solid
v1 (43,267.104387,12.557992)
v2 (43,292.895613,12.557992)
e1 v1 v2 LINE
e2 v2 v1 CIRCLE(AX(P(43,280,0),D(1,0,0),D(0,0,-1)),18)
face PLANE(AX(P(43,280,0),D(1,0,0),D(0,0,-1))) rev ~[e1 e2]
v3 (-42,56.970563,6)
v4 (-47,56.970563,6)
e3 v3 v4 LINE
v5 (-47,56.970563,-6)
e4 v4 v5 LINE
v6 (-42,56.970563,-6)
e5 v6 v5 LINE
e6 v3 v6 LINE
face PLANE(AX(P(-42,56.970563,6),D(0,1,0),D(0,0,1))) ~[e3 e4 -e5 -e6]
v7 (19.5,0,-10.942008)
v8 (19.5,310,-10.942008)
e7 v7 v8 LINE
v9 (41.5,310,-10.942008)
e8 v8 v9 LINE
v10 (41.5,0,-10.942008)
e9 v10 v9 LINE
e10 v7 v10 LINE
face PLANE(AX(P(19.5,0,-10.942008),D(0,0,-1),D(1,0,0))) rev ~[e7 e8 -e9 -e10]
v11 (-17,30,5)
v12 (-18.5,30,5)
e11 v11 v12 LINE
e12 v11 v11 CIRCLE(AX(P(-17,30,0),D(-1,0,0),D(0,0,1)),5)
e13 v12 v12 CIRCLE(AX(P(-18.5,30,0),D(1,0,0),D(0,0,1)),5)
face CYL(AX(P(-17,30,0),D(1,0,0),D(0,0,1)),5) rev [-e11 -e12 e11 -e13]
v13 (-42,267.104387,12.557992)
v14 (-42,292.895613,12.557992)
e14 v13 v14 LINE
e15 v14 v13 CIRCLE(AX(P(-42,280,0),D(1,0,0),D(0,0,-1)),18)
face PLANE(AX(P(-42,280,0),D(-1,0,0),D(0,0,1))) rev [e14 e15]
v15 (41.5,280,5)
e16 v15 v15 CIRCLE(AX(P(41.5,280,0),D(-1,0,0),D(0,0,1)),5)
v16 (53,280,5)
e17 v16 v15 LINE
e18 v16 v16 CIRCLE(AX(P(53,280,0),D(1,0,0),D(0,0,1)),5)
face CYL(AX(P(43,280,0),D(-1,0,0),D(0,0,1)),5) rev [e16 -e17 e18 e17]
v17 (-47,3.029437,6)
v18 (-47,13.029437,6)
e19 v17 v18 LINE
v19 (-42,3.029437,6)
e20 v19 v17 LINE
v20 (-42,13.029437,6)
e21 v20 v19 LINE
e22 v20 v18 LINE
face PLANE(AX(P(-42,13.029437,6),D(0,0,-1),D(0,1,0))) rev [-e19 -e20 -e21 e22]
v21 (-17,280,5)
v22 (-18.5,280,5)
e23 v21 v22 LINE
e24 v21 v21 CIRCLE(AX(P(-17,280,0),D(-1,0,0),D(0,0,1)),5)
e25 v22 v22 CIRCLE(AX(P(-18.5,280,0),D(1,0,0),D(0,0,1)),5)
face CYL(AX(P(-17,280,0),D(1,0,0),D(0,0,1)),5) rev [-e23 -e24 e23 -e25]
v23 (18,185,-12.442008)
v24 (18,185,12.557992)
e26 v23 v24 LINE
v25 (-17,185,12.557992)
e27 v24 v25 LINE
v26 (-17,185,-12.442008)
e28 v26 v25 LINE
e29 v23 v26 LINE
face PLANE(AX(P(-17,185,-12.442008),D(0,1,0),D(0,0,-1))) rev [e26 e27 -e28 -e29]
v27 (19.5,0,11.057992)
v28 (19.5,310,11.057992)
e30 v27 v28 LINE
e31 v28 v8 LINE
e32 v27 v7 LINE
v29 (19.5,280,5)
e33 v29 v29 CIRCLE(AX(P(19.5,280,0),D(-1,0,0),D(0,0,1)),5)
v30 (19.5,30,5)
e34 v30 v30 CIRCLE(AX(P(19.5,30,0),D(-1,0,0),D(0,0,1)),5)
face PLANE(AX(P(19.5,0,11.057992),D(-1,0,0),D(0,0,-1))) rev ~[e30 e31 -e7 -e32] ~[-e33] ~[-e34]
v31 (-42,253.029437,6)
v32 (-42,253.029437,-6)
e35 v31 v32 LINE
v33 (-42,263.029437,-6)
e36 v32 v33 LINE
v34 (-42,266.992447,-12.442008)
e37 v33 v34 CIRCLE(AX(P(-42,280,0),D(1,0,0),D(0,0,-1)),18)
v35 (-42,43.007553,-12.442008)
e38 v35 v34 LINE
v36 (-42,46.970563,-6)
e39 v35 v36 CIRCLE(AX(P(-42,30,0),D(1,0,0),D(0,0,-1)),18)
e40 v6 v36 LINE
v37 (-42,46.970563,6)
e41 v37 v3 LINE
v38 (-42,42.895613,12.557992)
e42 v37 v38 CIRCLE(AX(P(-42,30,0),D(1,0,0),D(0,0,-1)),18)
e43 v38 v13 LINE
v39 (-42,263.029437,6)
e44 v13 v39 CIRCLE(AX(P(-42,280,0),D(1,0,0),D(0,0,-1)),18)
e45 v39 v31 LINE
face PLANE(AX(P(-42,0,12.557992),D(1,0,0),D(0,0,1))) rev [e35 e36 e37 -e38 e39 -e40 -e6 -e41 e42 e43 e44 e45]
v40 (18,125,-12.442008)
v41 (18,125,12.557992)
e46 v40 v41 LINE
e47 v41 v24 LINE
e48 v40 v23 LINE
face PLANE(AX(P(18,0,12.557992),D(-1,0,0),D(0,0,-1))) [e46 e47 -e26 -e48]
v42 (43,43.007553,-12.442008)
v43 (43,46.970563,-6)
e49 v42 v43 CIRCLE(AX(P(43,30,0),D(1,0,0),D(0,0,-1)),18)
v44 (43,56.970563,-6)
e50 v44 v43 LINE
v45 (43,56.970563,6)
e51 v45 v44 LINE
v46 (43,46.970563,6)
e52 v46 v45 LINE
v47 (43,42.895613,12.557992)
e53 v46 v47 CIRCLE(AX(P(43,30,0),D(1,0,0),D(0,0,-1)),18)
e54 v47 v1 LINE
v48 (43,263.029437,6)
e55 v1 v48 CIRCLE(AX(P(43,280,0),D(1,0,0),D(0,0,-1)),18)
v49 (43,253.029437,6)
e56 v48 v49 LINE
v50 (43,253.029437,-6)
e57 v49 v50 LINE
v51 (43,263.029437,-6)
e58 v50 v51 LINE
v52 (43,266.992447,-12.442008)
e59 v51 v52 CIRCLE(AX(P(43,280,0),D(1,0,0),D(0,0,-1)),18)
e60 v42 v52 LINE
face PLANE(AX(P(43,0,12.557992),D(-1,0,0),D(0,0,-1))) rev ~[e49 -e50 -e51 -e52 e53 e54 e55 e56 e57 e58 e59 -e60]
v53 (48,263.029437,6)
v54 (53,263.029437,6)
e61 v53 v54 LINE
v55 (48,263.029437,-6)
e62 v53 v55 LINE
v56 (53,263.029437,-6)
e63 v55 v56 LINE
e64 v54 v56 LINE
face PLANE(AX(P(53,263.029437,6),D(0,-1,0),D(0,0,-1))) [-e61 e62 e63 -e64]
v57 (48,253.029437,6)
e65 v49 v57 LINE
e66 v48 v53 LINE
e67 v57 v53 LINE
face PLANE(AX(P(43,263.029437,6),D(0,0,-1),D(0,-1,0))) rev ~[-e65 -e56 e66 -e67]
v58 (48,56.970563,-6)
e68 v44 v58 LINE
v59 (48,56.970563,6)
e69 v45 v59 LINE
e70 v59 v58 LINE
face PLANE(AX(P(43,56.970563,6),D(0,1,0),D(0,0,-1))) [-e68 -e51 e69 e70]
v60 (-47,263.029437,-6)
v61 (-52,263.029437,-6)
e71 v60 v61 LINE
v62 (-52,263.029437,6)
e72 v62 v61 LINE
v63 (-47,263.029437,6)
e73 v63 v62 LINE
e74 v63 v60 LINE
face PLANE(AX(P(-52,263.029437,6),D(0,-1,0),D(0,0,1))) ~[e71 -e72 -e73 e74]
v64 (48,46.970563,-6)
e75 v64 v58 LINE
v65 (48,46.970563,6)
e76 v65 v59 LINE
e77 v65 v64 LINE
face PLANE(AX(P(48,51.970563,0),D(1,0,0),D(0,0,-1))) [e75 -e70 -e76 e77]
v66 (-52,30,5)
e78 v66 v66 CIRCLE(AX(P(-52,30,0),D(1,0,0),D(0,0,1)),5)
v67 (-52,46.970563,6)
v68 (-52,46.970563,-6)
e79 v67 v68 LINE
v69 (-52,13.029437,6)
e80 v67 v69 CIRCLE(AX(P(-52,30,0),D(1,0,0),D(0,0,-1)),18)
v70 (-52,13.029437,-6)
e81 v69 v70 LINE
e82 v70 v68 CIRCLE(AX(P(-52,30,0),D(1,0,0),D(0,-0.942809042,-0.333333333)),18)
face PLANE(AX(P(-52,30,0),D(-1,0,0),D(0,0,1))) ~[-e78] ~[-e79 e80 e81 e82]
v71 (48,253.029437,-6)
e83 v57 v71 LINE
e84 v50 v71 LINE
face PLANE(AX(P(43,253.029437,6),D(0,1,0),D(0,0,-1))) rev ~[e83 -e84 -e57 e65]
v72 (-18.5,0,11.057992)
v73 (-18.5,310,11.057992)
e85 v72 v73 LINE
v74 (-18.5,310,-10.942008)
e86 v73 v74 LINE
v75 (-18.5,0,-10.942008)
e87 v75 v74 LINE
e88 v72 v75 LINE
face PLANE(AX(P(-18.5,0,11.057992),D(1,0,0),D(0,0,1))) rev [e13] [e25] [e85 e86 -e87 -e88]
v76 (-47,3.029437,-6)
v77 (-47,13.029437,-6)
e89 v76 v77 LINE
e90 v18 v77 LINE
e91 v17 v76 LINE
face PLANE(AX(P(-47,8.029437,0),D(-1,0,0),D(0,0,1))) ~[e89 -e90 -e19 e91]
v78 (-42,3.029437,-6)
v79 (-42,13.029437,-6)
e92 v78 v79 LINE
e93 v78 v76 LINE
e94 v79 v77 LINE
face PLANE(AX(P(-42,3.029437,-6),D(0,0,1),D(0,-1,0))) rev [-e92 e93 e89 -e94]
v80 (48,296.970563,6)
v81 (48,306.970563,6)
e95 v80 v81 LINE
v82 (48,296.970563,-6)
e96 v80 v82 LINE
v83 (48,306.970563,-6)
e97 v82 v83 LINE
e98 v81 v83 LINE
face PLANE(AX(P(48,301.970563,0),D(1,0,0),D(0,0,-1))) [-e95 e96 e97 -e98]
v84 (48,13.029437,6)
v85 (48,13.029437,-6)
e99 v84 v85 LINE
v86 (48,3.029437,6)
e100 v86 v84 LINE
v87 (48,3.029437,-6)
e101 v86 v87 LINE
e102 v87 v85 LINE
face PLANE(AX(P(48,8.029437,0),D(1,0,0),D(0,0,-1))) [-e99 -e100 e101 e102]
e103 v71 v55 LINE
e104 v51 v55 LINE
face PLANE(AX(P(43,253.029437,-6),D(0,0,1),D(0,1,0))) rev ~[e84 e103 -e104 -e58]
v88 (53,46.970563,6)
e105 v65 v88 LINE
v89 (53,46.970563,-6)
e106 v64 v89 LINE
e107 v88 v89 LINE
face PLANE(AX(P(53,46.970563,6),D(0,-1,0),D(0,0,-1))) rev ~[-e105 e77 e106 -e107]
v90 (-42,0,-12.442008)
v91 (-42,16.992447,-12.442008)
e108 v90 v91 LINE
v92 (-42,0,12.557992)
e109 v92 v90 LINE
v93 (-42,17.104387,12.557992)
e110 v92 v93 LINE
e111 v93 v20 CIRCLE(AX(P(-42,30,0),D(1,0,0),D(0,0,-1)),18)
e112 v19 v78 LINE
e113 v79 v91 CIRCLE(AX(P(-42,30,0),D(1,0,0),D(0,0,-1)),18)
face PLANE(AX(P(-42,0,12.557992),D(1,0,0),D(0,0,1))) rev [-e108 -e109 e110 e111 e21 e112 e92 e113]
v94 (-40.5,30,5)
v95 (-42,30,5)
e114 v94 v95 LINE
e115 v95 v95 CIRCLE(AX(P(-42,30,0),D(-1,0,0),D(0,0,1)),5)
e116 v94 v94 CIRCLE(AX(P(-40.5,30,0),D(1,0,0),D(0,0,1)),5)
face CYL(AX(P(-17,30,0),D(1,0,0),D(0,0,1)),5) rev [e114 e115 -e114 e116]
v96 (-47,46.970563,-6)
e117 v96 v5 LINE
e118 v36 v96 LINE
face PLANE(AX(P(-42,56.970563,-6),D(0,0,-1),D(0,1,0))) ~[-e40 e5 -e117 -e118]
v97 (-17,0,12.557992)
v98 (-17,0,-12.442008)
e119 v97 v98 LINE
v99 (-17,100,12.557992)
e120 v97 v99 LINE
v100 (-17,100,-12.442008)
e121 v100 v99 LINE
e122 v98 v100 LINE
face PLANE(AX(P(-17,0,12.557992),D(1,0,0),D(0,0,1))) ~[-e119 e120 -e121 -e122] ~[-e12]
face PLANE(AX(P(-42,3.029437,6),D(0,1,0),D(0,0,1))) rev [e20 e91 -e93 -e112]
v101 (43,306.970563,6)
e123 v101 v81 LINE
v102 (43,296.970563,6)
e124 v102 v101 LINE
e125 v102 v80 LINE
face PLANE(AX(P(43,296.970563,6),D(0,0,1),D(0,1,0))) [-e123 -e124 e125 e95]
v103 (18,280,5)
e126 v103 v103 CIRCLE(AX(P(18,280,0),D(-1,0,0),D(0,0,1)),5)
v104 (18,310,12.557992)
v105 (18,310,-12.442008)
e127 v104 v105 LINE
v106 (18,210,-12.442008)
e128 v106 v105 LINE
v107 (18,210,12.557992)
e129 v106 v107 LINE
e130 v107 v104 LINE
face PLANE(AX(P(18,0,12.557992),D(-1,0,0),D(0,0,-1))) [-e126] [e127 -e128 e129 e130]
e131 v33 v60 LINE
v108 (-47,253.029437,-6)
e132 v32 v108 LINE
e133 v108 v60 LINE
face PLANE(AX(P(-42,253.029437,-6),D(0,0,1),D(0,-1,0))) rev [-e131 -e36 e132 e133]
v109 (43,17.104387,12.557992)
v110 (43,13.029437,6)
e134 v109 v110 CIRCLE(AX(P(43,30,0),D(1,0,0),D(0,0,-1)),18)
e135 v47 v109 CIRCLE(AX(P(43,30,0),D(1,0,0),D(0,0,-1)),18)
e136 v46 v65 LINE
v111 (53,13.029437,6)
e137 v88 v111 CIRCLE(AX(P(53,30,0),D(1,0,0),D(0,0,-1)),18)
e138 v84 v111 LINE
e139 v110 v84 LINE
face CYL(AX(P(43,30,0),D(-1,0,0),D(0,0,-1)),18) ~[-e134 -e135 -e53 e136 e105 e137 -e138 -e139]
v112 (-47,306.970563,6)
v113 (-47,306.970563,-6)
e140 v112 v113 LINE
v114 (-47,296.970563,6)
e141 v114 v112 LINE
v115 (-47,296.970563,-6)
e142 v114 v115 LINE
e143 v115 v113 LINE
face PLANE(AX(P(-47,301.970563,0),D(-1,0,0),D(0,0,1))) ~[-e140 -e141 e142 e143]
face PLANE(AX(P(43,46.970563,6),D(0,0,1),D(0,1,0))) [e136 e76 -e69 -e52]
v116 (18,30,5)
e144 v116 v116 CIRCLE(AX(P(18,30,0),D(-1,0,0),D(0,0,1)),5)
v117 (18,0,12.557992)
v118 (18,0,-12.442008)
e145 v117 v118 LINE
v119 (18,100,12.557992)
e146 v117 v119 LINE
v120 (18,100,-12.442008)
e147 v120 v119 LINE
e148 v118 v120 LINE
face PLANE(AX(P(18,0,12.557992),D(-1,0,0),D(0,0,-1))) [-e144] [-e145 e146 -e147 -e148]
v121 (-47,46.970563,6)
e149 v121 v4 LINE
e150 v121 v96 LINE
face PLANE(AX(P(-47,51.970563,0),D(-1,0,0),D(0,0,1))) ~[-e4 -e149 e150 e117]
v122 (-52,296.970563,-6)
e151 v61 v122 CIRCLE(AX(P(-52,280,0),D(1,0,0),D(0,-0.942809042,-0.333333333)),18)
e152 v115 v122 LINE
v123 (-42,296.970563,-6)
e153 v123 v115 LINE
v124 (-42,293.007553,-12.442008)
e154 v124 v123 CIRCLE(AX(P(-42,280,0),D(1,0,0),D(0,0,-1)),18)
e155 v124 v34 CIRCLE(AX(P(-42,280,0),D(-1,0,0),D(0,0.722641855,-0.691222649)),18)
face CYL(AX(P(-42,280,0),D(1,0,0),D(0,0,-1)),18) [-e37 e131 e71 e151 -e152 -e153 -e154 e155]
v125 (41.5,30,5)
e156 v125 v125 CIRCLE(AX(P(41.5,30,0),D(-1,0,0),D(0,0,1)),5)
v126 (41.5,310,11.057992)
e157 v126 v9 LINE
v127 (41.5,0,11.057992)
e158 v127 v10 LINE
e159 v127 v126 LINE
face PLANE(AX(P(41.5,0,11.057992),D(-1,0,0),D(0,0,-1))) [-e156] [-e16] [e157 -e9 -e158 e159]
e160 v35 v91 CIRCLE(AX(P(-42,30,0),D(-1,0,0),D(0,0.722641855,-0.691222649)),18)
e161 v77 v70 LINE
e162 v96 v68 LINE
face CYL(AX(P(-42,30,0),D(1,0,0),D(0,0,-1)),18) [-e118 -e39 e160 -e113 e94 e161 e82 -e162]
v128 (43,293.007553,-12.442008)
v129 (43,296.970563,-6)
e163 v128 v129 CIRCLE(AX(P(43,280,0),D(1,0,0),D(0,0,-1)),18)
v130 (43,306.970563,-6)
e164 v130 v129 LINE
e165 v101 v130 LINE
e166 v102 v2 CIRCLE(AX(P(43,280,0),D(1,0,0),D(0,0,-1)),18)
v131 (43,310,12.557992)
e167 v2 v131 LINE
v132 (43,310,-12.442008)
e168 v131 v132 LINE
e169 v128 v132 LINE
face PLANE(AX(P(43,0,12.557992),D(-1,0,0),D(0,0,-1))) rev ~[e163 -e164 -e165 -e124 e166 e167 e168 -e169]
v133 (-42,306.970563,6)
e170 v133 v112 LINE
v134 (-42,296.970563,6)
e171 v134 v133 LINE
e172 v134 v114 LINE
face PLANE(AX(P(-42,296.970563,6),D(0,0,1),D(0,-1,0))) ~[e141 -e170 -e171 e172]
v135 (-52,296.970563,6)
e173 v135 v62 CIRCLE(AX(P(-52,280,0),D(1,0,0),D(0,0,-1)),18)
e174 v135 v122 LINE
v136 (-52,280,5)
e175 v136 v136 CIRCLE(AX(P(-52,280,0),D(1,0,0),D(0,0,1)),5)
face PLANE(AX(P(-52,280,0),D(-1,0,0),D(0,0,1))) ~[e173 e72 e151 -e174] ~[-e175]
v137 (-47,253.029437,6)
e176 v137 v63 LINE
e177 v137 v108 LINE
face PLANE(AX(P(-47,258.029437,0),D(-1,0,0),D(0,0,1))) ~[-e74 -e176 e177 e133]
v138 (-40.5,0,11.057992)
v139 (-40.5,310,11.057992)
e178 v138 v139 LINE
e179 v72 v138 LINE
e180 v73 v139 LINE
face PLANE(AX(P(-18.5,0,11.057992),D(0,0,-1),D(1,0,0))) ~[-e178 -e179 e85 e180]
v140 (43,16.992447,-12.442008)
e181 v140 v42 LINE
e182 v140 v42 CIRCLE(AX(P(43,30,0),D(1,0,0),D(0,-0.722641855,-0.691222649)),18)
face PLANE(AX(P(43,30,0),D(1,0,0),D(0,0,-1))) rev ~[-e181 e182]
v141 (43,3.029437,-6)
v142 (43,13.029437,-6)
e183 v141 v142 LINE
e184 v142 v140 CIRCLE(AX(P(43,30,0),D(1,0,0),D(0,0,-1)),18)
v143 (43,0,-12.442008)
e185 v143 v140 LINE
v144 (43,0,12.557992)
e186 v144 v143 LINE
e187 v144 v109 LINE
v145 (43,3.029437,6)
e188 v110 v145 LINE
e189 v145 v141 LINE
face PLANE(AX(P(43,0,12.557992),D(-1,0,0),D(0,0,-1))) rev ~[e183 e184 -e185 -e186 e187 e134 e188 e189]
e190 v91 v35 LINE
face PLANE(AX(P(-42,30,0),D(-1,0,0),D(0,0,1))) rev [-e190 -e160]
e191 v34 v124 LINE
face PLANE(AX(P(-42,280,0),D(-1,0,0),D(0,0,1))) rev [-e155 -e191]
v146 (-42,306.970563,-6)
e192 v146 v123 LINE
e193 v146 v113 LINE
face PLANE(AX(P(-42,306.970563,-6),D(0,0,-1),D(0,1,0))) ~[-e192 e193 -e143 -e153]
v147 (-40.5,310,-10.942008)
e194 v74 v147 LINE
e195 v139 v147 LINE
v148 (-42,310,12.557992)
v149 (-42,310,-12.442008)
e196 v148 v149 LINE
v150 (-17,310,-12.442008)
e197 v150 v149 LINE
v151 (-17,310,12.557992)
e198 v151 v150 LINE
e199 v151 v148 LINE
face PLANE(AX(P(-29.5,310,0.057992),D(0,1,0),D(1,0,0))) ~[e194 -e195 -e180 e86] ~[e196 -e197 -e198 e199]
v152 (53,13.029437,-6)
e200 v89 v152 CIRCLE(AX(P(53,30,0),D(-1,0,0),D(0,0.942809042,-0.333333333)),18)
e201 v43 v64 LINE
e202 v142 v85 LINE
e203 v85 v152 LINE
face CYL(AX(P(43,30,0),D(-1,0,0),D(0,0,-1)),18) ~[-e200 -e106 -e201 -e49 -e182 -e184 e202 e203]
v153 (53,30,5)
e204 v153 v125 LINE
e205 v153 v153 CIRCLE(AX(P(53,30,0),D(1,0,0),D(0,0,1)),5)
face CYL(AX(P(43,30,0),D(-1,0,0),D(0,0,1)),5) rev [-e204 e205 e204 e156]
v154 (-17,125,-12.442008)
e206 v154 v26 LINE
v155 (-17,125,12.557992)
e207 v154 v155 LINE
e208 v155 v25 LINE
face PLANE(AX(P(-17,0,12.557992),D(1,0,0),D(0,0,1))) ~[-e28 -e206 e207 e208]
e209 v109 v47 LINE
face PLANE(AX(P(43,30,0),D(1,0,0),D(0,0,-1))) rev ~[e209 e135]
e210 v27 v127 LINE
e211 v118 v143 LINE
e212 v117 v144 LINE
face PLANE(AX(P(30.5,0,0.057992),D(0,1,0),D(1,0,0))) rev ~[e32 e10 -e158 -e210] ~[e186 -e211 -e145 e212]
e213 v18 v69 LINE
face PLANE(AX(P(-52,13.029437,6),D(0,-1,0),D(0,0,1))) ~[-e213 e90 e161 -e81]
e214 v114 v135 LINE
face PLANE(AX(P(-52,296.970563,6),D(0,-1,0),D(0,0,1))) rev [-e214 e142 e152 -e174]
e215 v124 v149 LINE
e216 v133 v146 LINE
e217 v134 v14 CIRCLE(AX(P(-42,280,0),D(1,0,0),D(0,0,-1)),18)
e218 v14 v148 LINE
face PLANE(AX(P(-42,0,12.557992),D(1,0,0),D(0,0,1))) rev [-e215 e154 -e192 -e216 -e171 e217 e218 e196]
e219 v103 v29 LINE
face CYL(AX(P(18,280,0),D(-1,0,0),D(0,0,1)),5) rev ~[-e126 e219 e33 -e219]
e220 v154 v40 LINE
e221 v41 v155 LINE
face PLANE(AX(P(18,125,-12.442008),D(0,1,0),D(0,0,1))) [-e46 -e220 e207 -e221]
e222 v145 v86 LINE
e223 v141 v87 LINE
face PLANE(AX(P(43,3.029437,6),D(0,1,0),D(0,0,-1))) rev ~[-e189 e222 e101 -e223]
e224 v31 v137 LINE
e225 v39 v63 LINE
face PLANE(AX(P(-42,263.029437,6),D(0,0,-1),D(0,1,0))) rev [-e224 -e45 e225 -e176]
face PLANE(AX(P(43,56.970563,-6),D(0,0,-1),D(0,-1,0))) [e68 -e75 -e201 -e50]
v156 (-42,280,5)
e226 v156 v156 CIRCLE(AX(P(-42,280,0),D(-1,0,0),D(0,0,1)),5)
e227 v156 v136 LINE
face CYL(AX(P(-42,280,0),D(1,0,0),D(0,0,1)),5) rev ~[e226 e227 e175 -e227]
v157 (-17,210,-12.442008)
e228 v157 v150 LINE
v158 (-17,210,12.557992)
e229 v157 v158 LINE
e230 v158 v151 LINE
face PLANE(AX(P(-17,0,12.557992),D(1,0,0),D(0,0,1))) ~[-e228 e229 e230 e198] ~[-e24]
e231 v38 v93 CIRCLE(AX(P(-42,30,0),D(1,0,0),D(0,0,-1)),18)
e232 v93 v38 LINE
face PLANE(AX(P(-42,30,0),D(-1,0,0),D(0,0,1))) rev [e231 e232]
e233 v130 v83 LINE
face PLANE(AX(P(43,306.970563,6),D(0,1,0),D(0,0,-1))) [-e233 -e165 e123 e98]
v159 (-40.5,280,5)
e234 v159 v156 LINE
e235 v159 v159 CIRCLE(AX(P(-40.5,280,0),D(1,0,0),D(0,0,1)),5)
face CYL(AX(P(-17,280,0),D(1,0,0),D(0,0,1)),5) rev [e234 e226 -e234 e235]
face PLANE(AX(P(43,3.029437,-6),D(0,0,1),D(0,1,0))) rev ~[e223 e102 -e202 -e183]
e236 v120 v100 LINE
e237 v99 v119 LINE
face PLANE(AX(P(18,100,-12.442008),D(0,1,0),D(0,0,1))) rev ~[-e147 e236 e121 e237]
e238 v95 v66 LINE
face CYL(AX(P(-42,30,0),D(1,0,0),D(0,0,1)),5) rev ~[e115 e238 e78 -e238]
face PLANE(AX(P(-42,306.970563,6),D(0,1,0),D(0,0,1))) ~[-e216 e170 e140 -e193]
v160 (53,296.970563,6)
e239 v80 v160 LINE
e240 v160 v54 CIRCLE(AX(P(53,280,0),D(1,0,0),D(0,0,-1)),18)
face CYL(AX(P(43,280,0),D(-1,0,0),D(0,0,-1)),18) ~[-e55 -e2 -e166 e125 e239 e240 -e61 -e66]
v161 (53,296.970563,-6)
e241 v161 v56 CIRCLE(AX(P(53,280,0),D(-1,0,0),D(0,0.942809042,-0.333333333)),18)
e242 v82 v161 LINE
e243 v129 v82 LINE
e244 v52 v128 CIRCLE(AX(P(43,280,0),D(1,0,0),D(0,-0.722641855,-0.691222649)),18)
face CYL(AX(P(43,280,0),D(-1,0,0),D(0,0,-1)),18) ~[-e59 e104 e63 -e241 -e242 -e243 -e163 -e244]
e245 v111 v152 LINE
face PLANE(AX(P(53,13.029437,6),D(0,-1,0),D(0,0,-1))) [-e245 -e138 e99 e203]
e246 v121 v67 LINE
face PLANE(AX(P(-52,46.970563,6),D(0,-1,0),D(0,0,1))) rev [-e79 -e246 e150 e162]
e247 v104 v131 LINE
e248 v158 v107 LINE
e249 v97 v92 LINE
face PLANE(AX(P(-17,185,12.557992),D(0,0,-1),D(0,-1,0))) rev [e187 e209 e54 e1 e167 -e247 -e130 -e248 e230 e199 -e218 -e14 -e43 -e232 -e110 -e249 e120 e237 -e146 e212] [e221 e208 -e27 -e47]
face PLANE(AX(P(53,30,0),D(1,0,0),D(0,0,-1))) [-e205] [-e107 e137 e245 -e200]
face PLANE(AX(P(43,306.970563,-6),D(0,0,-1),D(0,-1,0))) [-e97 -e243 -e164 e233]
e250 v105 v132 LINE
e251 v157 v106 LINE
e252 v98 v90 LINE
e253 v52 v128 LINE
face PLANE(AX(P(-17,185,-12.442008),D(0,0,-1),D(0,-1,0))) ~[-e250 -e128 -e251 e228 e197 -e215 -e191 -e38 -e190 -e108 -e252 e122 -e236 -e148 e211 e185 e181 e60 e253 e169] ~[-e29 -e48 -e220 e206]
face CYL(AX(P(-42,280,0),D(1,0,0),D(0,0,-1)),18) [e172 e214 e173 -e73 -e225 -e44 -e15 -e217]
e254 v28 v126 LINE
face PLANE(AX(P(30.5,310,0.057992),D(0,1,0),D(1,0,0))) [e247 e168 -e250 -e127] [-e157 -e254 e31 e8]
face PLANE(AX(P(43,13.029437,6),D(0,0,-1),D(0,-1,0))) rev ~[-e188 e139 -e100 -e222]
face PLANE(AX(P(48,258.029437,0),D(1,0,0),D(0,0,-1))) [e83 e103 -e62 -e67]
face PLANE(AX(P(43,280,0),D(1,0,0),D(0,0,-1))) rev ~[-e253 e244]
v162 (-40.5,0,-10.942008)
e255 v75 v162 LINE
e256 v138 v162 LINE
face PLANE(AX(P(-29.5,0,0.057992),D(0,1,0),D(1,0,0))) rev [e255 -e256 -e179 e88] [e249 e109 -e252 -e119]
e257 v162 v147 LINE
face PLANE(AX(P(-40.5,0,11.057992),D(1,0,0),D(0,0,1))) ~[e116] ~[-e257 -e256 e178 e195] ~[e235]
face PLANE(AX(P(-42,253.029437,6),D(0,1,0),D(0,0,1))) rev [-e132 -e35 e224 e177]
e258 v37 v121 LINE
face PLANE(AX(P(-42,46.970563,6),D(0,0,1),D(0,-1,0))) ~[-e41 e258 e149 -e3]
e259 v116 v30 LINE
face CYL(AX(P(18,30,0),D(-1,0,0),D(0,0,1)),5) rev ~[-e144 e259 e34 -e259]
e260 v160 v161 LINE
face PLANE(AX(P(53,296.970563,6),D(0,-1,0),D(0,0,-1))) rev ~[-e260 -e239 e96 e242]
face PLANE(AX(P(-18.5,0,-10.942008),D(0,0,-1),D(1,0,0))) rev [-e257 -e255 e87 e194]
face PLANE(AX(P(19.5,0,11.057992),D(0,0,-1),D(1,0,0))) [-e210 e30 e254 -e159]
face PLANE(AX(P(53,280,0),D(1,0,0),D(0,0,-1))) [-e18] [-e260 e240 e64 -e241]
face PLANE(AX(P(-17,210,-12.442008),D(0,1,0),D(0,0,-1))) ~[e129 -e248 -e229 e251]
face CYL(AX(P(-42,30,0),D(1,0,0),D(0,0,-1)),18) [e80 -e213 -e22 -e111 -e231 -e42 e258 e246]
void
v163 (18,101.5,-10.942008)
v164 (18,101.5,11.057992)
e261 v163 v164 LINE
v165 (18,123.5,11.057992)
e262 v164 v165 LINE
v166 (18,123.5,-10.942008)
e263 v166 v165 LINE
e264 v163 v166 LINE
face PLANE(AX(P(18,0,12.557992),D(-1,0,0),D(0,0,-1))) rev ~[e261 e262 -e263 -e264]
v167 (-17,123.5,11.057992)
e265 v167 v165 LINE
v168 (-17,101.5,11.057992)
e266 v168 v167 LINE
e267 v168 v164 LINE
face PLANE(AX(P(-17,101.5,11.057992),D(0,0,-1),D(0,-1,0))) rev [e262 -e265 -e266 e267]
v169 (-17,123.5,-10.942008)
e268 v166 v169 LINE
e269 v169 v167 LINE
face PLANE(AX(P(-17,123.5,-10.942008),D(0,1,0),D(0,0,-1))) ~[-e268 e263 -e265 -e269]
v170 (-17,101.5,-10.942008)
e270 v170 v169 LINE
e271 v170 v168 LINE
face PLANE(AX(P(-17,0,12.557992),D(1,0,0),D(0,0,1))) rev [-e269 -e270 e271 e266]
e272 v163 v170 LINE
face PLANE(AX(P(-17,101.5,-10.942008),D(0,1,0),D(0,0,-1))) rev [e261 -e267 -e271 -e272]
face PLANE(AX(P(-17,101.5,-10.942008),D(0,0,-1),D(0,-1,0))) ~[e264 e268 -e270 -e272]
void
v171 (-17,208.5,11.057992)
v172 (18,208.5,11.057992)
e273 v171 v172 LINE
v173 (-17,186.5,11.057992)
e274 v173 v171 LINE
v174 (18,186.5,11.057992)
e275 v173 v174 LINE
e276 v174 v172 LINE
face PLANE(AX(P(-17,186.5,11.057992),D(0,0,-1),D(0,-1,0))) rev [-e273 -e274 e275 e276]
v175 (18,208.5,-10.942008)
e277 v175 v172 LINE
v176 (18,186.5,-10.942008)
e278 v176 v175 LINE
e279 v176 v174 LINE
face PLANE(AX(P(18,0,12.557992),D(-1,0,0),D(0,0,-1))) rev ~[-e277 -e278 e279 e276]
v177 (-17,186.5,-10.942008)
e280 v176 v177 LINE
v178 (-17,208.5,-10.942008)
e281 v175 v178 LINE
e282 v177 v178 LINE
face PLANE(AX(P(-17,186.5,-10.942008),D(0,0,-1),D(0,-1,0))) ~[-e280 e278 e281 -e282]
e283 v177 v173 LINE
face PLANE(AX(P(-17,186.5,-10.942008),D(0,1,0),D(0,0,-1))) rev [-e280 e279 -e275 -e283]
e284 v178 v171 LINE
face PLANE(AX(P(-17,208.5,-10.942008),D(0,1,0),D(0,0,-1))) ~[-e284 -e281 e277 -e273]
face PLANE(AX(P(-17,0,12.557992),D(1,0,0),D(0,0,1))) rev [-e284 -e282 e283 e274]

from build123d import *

# Parameters (mm, degrees)
SKETCH1_W           = 25
SKETCH1_H           = 25
SKETCH1_W_2         = 22
SKETCH1_H_2         = 22
BOSS_EXTRUDE1_DEPTH = 310
SKETCH2_W           = 25
SKETCH2_H           = 25
SKETCH2_W_2         = 22
SKETCH2_H_2         = 22
BOSS_EXTRUDE2_DEPTH = 17.5
SKETCH8_R           = 5
CUT_EXTRUDE1_DEPTH  = 25
SKETCH9_R           = 18
SKETCH9_R_2         = 5
BOSS_EXTRUDE3_DEPTH = 10
SKETCH10_R          = 18
SKETCH10_R_2        = 5
BOSS_EXTRUDE4_DEPTH = 10
SKETCH11_W          = 12
SKETCH11_H          = 10
CUT_EXTRUDE2_DEPTH  = 5


with BuildPart() as part:
    # Sketch1 → Boss-Extrude1 (new body)
    with BuildSketch(Plane(origin=(0, 0, 0), x_dir=(1, 0, 0), z_dir=(0, 1, 0))):
        with Locations((30.5, -0.057992327)):
            Rectangle(SKETCH1_W, SKETCH1_H)
        with Locations((30.5, -0.057992327)):
            Rectangle(SKETCH1_W_2, SKETCH1_H_2, mode=Mode.SUBTRACT)
    boss_extrude1 = extrude(amount=BOSS_EXTRUDE1_DEPTH)

    # Sketch2 → Boss-Extrude2 (add)
    # profile 1 of 2: a face of its own
    with BuildSketch(Plane.ZY.offset(-18)):
        with Locations((0.057992327, 197.5)):
            Rectangle(SKETCH2_W, SKETCH2_H)
        with Locations((0.057992327, 197.5)):
            Rectangle(SKETCH2_W_2, SKETCH2_H_2, mode=Mode.SUBTRACT)
    # profile 2 of 2: a face of its own
    with BuildSketch(Plane.ZY.offset(-18)):
        with Locations((0.057992327, 112.5)):
            Rectangle(SKETCH2_W, SKETCH2_H)
        with Locations((0.057992327, 112.5)):
            Rectangle(SKETCH2_W_2, SKETCH2_H_2, mode=Mode.SUBTRACT)
    boss_extrude2 = extrude(amount=BOSS_EXTRUDE2_DEPTH)

    # Sketch8 → Cut-Extrude1 (cut)
    with BuildSketch(Plane.ZY.offset(-18)):
        with Locations((0, 280)):
            Circle(SKETCH8_R)
        with Locations((0, 30)):
            Circle(SKETCH8_R)
    cut_extrude1 = extrude(amount=-CUT_EXTRUDE1_DEPTH, mode=Mode.SUBTRACT)

    # Sketch9 → Boss-Extrude3 (add)
    # profile 1 of 3: a face of its own
    with BuildSketch(Plane(origin=(43, 0, 0), x_dir=(0, 0, -1), z_dir=(1, 0, 0))):
        with Locations((0, 30)):
            Circle(SKETCH9_R)
        with Locations(Location((0, 30, 0), (0, 0, 180))):
            Circle(SKETCH9_R_2, mode=Mode.SUBTRACT)
    # profile 2 of 3: a face of its own
    with BuildSketch(Plane(origin=(43, 0, 0), x_dir=(0, 0, -1), z_dir=(1, 0, 0))):
        with BuildLine():
            Line((-6, 13.029437252), (-6, 3.029437252))
            Line((-6, 3.029437252), (6, 3.029437252))
            Line((6, 3.029437252), (6, 13.029437252))
            ThreePointArc((6, 13.029437252), (0, 12), (-6, 13.029437252))
        make_face()
    # profile 3 of 3: a face of its own
    with BuildSketch(Plane(origin=(43, 0, 0), x_dir=(0, 0, -1), z_dir=(1, 0, 0))):
        with BuildLine():
            Line((-6, 46.970562748), (-6, 56.970562748))
            Line((-6, 56.970562748), (6, 56.970562748))
            Line((6, 56.970562748), (6, 46.970562748))
            ThreePointArc((6, 46.970562748), (0, 48), (-6, 46.970562748))
        make_face()
    boss_extrude3 = extrude(amount=BOSS_EXTRUDE3_DEPTH)

    # Sketch10 → Boss-Extrude4 (add)
    # profile 1 of 3: a face of its own
    with BuildSketch(Plane(origin=(43, 0, 0), x_dir=(0, 0, -1), z_dir=(1, 0, 0))):
        with Locations((0, 280)):
            Circle(SKETCH10_R)
        with Locations(Location((0, 280, 0), (0, 0, 180))):
            Circle(SKETCH10_R_2, mode=Mode.SUBTRACT)
    # profile 2 of 3: a face of its own
    with BuildSketch(Plane(origin=(43, 0, 0), x_dir=(0, 0, -1), z_dir=(1, 0, 0))):
        with BuildLine():
            Line((-6, 296.970562748), (-6, 306.970562748))
            Line((-6, 306.970562748), (6, 306.970562748))
            Line((6, 306.970562748), (6, 296.970562748))
            ThreePointArc((6, 296.970562748), (0, 298), (-6, 296.970562748))
        make_face()
    # profile 3 of 3: a face of its own
    with BuildSketch(Plane(origin=(43, 0, 0), x_dir=(0, 0, -1), z_dir=(1, 0, 0))):
        with BuildLine():
            Line((-6, 263.029437252), (-6, 253.029437252))
            Line((-6, 253.029437252), (6, 253.029437252))
            Line((6, 253.029437252), (6, 263.029437252))
            ThreePointArc((6, 263.029437252), (0, 262), (-6, 263.029437252))
        make_face()
    boss_extrude4 = extrude(amount=BOSS_EXTRUDE4_DEPTH)

    # Sketch11 → Cut-Extrude2 (cut)
    with BuildSketch(Plane(origin=(53, 0, 0), x_dir=(0, 0, -1), z_dir=(1, 0, 0))):
        with Locations((0, 8.029437252)):
            Rectangle(SKETCH11_W, SKETCH11_H)
        with Locations((0, 51.970562748)):
            Rectangle(SKETCH11_W, SKETCH11_H)
        with Locations((0, 258.029437252)):
            Rectangle(SKETCH11_W, SKETCH11_H)
        with Locations((0, 301.970562748)):
            Rectangle(SKETCH11_W, SKETCH11_H)
    cut_extrude2 = extrude(amount=-CUT_EXTRUDE2_DEPTH, mode=Mode.SUBTRACT)

    # Mirror1: Boss-Extrude1, Boss-Extrude2, Cut-Extrude1, Boss-Extrude3, Boss-Extrude4, Cut-Extrude2 across plane
    add(boss_extrude1.mirror(Plane.ZY.offset(-0.5)))
    add(boss_extrude2.mirror(Plane.ZY.offset(-0.5)))
    add(cut_extrude1.mirror(Plane.ZY.offset(-0.5)), mode=Mode.SUBTRACT)
    add(boss_extrude3.mirror(Plane.ZY.offset(-0.5)))
    add(boss_extrude4.mirror(Plane.ZY.offset(-0.5)))
    add(cut_extrude2.mirror(Plane.ZY.offset(-0.5)), mode=Mode.SUBTRACT)


solid = part.part
